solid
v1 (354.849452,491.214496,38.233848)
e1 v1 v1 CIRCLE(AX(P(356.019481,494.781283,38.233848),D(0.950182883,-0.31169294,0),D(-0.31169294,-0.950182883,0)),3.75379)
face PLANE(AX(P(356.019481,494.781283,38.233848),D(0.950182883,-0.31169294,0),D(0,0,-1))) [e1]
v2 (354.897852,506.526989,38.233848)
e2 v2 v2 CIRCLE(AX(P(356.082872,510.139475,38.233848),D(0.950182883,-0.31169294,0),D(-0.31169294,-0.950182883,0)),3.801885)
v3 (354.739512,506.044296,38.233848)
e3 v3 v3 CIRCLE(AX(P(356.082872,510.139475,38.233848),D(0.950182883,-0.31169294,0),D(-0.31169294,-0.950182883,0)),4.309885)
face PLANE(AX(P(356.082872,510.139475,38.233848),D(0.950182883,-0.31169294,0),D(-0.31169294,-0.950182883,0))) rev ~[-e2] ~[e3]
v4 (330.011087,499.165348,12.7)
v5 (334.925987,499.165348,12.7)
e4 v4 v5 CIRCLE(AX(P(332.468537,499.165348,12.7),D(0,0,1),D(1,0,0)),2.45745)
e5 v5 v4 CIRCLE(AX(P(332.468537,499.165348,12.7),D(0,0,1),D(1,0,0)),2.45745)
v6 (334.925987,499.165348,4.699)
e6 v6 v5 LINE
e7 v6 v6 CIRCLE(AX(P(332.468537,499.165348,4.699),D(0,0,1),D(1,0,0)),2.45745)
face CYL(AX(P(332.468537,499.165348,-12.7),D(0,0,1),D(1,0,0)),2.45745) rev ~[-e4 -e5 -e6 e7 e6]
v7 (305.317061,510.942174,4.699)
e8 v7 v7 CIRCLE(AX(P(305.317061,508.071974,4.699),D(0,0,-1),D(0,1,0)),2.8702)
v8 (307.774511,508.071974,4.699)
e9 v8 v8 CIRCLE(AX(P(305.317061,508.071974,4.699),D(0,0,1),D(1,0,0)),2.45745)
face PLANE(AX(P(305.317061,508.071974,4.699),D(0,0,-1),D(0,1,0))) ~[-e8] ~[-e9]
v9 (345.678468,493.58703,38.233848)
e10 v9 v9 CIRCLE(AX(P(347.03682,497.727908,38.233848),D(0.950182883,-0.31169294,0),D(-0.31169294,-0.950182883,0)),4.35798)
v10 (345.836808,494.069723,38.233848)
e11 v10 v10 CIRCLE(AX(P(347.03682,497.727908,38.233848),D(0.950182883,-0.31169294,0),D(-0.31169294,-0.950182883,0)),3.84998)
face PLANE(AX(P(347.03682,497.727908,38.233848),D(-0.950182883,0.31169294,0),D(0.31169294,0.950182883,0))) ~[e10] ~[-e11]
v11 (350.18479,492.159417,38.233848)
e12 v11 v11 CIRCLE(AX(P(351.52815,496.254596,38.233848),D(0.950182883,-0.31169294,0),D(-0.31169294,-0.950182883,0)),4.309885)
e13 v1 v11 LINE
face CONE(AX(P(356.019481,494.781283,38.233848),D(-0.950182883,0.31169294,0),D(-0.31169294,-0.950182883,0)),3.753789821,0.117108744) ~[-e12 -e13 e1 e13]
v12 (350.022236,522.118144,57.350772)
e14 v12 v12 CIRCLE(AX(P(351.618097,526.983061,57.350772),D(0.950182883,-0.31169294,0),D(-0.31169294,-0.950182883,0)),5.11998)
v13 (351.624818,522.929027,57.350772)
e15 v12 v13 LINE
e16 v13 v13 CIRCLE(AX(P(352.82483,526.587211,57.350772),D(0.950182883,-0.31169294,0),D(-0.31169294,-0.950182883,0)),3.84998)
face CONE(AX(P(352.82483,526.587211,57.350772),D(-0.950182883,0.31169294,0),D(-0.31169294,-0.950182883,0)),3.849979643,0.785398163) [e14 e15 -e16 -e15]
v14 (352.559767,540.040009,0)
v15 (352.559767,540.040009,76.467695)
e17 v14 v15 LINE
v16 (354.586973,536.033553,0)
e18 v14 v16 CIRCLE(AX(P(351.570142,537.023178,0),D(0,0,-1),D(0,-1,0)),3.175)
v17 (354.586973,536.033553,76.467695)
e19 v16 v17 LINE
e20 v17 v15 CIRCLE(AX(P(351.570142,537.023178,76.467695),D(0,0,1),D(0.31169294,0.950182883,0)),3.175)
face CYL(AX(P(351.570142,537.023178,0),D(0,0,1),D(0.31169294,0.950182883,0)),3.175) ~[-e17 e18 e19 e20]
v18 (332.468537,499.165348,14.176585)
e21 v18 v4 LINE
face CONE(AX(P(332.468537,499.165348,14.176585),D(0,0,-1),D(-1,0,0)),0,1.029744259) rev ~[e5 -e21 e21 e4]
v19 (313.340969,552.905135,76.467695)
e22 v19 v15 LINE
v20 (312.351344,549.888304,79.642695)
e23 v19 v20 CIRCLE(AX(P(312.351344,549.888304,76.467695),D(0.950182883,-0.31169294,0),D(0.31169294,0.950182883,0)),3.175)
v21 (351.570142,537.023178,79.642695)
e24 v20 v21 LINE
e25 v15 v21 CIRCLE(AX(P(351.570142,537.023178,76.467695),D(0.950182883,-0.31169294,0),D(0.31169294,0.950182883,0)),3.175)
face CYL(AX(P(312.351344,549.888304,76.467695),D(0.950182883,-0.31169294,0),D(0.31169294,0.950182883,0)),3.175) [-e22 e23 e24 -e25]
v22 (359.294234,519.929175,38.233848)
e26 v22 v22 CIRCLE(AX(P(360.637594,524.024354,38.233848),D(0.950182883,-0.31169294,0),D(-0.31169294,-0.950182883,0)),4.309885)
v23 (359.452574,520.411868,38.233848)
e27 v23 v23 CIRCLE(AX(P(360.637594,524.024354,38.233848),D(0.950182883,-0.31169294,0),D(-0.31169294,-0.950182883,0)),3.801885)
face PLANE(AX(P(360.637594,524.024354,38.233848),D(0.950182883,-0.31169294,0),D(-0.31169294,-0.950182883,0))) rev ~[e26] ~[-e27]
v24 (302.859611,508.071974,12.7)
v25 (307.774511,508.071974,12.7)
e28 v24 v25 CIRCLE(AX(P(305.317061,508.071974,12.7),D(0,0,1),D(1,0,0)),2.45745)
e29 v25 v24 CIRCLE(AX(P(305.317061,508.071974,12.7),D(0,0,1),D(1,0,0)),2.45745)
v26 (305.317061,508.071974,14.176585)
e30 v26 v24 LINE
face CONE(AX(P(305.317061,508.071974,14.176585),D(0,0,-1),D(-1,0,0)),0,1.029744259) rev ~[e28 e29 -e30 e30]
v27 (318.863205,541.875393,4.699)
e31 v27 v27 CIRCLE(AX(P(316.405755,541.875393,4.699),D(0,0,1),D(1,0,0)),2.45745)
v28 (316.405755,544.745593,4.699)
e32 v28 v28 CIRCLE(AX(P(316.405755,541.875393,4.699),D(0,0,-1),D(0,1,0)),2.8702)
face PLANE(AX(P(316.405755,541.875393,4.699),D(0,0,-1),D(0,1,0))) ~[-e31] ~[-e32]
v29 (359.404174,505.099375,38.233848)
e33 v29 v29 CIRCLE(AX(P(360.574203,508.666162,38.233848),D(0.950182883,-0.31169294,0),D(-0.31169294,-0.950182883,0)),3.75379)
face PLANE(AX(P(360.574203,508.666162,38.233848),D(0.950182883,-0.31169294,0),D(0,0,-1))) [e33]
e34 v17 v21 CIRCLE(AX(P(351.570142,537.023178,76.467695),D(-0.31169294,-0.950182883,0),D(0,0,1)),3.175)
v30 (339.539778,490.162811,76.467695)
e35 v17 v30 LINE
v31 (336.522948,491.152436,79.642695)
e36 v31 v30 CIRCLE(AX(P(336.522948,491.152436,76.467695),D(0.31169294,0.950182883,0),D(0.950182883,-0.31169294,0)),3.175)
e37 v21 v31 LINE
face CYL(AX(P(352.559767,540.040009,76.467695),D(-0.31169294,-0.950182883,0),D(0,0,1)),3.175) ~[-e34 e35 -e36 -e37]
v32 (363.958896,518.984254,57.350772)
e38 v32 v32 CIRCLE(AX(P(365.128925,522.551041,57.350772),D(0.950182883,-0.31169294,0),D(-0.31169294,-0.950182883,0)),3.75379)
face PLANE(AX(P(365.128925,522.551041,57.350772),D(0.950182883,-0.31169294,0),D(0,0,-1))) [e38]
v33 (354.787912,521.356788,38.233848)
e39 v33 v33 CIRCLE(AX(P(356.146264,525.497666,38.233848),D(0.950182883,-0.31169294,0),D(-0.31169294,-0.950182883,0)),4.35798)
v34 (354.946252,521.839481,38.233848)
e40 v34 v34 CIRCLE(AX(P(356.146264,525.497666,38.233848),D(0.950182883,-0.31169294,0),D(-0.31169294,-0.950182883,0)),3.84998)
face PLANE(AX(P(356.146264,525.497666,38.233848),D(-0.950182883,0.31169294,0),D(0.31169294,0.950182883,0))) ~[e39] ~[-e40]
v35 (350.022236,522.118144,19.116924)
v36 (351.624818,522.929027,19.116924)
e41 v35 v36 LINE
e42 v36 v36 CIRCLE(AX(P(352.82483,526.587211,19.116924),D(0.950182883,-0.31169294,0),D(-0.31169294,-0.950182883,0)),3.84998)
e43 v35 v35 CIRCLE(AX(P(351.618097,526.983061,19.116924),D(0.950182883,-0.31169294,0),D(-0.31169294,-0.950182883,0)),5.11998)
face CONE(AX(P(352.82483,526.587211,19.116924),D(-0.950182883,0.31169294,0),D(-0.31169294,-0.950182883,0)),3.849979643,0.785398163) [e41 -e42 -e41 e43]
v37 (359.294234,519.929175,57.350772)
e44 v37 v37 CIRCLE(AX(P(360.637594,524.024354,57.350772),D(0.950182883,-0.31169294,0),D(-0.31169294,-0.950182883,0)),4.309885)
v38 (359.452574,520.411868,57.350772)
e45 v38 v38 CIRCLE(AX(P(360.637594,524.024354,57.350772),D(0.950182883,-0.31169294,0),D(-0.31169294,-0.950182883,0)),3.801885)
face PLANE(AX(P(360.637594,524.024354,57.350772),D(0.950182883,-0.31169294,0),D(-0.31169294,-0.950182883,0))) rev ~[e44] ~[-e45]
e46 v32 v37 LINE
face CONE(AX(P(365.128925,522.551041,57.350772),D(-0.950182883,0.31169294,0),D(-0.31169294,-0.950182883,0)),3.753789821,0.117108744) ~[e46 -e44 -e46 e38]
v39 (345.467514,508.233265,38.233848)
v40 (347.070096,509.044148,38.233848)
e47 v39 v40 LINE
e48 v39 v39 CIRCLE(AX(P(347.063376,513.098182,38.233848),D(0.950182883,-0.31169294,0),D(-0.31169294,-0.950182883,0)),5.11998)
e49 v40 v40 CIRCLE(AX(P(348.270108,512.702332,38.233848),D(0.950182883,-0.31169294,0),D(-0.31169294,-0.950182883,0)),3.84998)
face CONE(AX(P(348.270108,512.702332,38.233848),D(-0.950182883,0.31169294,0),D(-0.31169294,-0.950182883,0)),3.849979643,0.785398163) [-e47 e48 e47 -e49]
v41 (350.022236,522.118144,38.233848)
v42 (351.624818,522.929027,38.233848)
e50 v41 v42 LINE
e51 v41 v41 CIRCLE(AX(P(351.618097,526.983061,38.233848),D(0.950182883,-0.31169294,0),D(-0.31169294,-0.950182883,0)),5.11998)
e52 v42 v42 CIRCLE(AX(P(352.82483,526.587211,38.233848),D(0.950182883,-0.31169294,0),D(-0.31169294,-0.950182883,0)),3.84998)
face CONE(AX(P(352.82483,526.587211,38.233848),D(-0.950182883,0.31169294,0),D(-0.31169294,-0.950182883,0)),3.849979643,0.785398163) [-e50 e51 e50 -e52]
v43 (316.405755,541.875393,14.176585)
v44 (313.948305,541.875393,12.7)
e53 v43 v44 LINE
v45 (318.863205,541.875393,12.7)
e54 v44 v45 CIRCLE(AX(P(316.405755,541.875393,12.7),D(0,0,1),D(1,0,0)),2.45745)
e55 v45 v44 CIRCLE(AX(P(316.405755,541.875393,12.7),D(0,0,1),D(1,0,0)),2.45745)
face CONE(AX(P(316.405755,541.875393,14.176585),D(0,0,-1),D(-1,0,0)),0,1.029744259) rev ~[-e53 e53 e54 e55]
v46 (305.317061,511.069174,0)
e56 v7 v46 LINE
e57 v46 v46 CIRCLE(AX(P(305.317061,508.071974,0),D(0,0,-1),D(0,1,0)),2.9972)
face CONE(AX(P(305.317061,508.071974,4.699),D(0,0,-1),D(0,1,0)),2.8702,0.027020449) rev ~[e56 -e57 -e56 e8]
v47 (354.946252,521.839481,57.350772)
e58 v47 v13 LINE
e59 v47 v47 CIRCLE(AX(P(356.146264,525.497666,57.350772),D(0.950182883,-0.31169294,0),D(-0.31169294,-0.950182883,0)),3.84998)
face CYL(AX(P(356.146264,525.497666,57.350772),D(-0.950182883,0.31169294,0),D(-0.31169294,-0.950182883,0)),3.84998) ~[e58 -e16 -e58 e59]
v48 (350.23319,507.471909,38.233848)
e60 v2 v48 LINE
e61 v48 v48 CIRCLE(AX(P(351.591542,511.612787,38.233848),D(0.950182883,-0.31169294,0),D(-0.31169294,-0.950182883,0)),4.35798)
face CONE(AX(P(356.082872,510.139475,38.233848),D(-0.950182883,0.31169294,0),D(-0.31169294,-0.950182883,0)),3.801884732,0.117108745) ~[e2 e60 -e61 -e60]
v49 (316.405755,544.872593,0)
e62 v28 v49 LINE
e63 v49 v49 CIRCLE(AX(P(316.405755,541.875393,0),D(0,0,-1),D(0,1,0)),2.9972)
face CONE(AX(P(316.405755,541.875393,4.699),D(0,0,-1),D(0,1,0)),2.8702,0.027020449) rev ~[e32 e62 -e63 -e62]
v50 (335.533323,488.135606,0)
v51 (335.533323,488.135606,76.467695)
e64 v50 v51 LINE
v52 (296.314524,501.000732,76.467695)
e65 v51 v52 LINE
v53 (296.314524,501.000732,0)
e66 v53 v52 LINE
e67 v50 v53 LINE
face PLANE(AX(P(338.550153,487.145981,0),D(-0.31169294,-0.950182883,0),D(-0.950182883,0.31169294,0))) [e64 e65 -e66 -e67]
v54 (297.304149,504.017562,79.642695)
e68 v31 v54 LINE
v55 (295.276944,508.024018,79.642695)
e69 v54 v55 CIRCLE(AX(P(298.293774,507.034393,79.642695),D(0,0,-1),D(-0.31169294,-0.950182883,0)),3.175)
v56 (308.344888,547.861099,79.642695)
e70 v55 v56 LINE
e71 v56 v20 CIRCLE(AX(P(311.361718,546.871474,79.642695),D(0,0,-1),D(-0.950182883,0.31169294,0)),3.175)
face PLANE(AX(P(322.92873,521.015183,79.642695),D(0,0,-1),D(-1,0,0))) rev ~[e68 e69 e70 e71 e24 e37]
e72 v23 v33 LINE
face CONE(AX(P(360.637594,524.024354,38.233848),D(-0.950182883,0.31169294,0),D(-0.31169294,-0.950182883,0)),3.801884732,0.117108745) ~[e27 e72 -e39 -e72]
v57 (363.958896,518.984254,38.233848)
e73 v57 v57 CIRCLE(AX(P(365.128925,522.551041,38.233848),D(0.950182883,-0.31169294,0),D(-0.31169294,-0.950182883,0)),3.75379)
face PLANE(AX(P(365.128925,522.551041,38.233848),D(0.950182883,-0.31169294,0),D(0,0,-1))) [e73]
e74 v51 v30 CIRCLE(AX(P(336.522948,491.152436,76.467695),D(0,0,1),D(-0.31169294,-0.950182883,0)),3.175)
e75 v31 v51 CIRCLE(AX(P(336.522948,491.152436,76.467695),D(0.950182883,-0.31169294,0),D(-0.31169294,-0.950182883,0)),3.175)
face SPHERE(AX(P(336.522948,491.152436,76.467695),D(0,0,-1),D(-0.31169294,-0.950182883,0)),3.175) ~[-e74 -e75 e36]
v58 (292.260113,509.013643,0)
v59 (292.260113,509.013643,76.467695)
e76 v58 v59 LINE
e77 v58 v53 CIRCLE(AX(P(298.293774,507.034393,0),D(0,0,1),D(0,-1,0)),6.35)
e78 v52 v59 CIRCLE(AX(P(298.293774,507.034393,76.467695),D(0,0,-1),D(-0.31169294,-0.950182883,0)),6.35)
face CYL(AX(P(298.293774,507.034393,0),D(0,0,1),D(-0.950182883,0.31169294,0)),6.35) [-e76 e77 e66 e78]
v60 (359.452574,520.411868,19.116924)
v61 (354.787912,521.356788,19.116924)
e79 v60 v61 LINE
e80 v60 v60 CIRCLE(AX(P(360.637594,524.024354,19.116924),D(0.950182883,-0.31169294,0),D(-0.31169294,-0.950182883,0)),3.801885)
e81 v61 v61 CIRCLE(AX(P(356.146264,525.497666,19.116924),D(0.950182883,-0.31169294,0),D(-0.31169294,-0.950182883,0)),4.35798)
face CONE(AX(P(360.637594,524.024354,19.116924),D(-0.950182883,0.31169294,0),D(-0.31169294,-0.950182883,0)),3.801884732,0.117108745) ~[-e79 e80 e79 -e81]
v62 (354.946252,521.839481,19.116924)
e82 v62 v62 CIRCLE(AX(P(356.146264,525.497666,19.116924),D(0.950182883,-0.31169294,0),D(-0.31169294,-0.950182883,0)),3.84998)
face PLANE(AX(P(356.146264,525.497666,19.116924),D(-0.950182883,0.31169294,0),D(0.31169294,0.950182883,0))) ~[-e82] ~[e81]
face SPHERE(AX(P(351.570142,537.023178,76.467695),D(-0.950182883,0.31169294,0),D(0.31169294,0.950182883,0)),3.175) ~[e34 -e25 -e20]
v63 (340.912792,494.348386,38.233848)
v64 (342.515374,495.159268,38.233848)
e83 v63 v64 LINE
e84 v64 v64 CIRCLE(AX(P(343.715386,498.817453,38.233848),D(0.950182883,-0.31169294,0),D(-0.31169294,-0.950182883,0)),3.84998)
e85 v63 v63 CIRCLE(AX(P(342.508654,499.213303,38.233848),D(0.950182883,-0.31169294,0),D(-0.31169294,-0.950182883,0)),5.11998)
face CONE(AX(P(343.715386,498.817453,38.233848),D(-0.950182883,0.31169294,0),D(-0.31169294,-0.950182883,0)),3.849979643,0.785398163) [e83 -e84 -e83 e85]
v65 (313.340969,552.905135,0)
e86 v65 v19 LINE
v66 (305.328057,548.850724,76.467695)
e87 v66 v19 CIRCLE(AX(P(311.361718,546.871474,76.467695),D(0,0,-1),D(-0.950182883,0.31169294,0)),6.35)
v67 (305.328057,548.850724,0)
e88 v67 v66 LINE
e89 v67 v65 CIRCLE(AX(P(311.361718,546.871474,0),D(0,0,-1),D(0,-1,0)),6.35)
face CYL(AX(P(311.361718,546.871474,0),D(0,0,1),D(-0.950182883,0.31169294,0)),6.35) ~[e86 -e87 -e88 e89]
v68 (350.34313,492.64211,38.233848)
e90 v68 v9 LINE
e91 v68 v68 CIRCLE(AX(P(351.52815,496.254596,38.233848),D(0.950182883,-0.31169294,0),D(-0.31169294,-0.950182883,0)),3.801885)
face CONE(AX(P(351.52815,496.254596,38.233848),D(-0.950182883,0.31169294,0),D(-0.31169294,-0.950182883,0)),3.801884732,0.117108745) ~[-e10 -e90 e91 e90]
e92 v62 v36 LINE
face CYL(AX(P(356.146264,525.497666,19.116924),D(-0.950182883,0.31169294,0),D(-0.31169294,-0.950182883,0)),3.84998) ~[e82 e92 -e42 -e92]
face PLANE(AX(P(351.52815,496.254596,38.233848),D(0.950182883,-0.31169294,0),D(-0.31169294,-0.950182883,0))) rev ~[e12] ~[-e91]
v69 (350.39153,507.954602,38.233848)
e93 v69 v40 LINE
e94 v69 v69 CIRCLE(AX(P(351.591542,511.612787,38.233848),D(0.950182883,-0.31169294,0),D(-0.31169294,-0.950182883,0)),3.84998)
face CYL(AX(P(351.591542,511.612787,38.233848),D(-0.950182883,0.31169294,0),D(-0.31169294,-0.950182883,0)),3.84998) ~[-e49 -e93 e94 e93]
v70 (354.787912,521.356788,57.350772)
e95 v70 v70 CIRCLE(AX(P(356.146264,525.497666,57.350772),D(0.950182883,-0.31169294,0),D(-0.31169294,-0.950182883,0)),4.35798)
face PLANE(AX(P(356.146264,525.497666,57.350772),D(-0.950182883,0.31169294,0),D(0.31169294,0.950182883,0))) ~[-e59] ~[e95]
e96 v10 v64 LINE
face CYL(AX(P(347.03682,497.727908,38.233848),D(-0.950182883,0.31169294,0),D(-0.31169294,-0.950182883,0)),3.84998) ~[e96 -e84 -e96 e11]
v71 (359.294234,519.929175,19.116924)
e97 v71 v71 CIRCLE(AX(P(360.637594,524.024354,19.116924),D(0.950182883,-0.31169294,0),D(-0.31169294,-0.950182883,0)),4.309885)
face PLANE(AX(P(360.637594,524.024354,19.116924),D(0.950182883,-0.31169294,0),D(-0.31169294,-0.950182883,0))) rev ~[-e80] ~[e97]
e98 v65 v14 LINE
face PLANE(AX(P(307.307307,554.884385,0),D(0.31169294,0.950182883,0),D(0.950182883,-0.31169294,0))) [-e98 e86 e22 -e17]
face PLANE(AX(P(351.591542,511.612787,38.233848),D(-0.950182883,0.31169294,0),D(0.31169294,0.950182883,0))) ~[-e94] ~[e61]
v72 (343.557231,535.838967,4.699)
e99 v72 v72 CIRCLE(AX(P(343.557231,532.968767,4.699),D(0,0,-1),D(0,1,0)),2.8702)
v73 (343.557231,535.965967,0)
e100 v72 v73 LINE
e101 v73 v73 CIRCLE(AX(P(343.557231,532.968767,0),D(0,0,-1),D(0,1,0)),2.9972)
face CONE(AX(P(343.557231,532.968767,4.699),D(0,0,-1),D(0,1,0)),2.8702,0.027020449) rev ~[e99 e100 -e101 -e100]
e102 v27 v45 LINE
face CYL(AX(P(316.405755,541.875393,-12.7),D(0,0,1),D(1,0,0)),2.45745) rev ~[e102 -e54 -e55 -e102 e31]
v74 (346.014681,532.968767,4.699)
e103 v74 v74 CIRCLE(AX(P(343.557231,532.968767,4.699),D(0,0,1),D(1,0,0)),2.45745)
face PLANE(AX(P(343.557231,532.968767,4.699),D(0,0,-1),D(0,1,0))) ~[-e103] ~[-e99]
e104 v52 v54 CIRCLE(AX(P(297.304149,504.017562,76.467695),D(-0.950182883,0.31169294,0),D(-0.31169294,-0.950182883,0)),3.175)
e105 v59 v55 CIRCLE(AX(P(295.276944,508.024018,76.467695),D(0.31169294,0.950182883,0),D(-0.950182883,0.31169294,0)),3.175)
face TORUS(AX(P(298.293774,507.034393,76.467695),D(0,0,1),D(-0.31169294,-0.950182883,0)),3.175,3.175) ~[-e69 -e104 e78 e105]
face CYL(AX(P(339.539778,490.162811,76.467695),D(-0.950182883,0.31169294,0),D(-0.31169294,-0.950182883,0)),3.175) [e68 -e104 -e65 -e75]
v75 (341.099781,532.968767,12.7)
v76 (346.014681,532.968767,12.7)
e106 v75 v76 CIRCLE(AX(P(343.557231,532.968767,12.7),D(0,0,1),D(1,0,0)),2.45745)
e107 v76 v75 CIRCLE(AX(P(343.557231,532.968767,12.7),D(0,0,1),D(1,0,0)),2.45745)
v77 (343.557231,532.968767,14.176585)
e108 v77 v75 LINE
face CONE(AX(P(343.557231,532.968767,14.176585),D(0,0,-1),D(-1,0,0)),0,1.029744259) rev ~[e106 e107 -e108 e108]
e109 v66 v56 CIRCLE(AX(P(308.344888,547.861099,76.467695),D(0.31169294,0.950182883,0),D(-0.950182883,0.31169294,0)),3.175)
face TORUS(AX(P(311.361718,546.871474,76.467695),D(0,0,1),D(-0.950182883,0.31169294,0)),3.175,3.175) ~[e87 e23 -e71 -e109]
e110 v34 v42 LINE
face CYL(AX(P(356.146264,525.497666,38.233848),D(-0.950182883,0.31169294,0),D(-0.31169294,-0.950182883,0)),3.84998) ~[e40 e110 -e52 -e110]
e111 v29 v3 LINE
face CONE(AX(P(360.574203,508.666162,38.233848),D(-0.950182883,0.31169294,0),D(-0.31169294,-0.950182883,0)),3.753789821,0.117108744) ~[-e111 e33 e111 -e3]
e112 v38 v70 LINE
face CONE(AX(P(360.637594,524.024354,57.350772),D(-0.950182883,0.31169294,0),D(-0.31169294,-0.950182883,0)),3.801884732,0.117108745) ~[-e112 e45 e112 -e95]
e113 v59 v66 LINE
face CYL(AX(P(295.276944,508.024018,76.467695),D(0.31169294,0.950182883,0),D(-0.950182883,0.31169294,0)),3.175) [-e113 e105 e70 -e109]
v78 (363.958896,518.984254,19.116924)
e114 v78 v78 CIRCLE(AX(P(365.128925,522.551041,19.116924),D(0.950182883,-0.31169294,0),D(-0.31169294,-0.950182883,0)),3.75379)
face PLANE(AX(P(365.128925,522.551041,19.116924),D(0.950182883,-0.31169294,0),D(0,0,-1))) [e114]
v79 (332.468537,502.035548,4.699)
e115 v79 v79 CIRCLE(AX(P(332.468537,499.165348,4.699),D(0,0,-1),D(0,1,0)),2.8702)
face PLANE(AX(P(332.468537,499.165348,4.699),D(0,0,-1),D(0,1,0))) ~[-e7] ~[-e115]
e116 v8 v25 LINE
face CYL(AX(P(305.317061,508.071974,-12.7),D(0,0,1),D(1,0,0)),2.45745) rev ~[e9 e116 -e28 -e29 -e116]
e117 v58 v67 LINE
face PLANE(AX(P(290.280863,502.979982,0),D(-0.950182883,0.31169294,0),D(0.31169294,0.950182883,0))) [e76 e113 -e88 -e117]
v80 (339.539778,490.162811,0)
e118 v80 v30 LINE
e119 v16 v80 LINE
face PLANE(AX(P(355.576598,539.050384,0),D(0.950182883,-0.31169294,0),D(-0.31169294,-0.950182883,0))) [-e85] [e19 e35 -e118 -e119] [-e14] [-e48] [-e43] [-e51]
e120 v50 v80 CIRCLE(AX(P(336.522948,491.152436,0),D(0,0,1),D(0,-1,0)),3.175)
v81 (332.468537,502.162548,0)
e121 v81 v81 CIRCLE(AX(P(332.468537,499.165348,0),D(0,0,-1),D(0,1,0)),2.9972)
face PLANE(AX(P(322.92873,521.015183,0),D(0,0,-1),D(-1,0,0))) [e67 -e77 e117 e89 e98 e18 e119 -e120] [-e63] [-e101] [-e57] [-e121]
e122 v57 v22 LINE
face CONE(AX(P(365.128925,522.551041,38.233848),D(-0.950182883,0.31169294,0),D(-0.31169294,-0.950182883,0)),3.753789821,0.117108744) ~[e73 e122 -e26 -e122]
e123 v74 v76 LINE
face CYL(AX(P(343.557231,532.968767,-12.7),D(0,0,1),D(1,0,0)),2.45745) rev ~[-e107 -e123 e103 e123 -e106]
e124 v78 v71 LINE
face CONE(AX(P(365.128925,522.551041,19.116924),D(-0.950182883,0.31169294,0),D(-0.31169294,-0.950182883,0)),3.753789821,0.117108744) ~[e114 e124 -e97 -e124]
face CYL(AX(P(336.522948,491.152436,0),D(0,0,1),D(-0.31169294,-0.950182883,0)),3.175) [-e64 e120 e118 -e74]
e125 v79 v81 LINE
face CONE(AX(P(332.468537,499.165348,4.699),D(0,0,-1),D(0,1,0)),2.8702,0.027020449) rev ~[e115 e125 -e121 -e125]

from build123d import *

# Parameters (mm, degrees)
BOSS_EXTRUDE1_DEPTH              = 79.642695409
FILLET1_R                        = 6.35
FILLET2_R                        = 3.175
SKETCH7_R                        = 4.261789822
CUT_EXTRUDE1_DEPTH               = 9.453613484
CHAMFER1_SIZE                    = 1.27
CHAMFER1_OF_SKETCH_PATTERN2_SIZE = 1.27
HOLE1_AT_2_COUNT                 = 2
HOLE1_AT_2_PITCH                 = 35.575698059
HOLE1_AT_3_COUNT                 = 2
HOLE1_AT_3_PITCH                 = 28.575
HOLE1_AT_4_COUNT                 = 2
HOLE1_AT_4_PITCH                 = 45.630701478
F_8_CLEARANCE_HOLE1_D            = 4.9149
F_8_CLEARANCE_HOLE1_DEPTH        = 12.7
F_8_CLEARANCE_HOLE1_TIP          = 1.476584928


with BuildPart() as part:
    # Sketch1 → Boss-Extrude1 (new body)
    with BuildSketch(Plane.XY):
        Polygon((290.280862854, 502.979981998), (307.307307279, 554.884385267), (355.576597736, 539.050383917), (338.550153311, 487.145980648), align=None)
    extrude(amount=BOSS_EXTRUDE1_DEPTH)

    # Fillet1
    fillet1_edges = [part.edges().sort_by_distance(p)[0] for p in [
        (307.307307279, 554.884385267, 39.821347704),
        (290.280862854, 502.979981998, 39.821347704),
    ]]
    fillet(fillet1_edges, radius=FILLET1_R)

    # Fillet2
    fillet2_edges = [part.edges().sort_by_distance(p)[0] for p in [
        (338.550153311, 487.145980648, 39.821347704),
        (298.794085066, 528.932183632, 79.642695409),
        (355.576597736, 539.050383917, 39.821347704),
        (317.432338736, 494.073356239, 79.642695409),
        (292.627790288, 504.167491527, 79.642695409),
        (308.494816808, 552.537457832, 79.642695409),
        (347.063375524, 513.098182283, 79.642695409),
        (334.458783161, 545.977759508, 79.642695409),
    ]]
    fillet(fillet2_edges, radius=FILLET2_R)

    # Sketch6 → Revolve1 (revolve)
    with BuildSketch(Plane.XY.offset(38.233847704), mode=Mode.PRIVATE) as revolve1_sk:
        Polygon((342.508653649, 499.213303263), (365.002143002, 491.834658634), (366.142191099, 495.310047547), (361.824191099, 497.311751702), (361.665851086, 496.829058798), (357.347851086, 498.830762953), (357.189511072, 498.348070049), (352.871511072, 500.349774204), (352.713171059, 499.8670813), (348.395171059, 501.868785456), (348.236831045, 501.386092551), (343.708665123, 502.87148802), align=None)
    revolve1 = revolve(revolve1_sk.sketch.rotate(Axis((342.508653649, 499.213303263, 38.233847704), (0.950182883020466, -0.31169293995038694, 0)), 180), axis=Axis((342.508653649, 499.213303263, 38.233847704), (0.950182883020466, -0.31169293995038694, 0)))

    # Sketch7 → Cut-Extrude1 (cut)
    with BuildSketch(Plane(origin=(183.876918982, -60.31800666, 0), x_dir=(0, 0, -1), z_dir=(0.9501828830204668, -0.31169293995038483, 0))):
        with Locations((-38.233847704, 581.101464951)):
            Circle(SKETCH7_R)
    cut_extrude1 = extrude(amount=-CUT_EXTRUDE1_DEPTH, mode=Mode.SUBTRACT)

    # Chamfer1
    chamfer1_edges = [part.edges().sort_by_distance(p)[0] for p in [
        (343.708665123, 502.87148802, 38.233847704),
    ]]
    chamfer(chamfer1_edges, length=CHAMFER1_SIZE)

    # Sketch-Pattern2: Revolve1, Cut-Extrude1 at 4 more places
    with Locations((9.109444, 27.769758, 0), (4.554722, 13.884879, 0), (9.109444, 27.769758, 19.116924), (9.109444, 27.769758, -19.116924)):
        add(revolve1)
        add(cut_extrude1, mode=Mode.SUBTRACT)

    # Chamfer1 of Sketch-Pattern2
    chamfer1_of_sketch_pattern2_edges = [part.edges().sort_by_distance(p)[0] for p in [
        (352.818109123, 530.64124602, 38.233847704),
        (348.263387123, 516.75636702, 38.233847704),
        (352.818109123, 530.64124602, 57.350771704),
        (352.818109123, 530.64124602, 19.116923704),
    ]]
    chamfer(chamfer1_of_sketch_pattern2_edges, length=CHAMFER1_OF_SKETCH_PATTERN2_SIZE)

    # Sketch9 → Hole1 (revolve, cut)
    with BuildSketch(Plane(origin=(332.468536604, 499.165347862, 0), x_dir=(0, 1, 0), z_dir=(1, 0, 0))):
        Polygon((0, 0), (0, 4.699), (2.8702, 4.699), (2.9972, 0), align=None)
    hole1 = revolve(axis=Axis((332.468536604, 499.165347862, 110), (0, 0, -1)), mode=Mode.SUBTRACT)

    # Hole1 at 2: Hole1 ×2
    with Locations(*[Vector(0.3116929399504022, 0.950182883020461, 0) * (i * HOLE1_AT_2_PITCH) for i in range(1, HOLE1_AT_2_COUNT)]):
        add(hole1, mode=Mode.SUBTRACT)

    # Hole1 at 3: Hole1 ×2
    with Locations(*[Vector(-0.9501828830204608, 0.3116929399504024, 0) * (i * HOLE1_AT_3_PITCH) for i in range(1, HOLE1_AT_3_COUNT)]):
        add(hole1, mode=Mode.SUBTRACT)

    # Hole1 at 4: Hole1 ×2
    with Locations(*[Vector(-0.3520169851244571, 0.9359936122559213, 0) * (i * HOLE1_AT_4_PITCH) for i in range(1, HOLE1_AT_4_COUNT)]):
        add(hole1, mode=Mode.SUBTRACT)

    # #8 Clearance Hole1
    with Locations(Plane(origin=(0, 0, 0), x_dir=(-1, 0, 0), z_dir=(0, 0, -1))):
        with Locations((-332.468536604, 499.165347862), (-343.557230523, 532.968767209), (-316.40575464, 541.875392969), (-305.317060721, 508.071973621)):
            Hole(F_8_CLEARANCE_HOLE1_D / 2, depth=F_8_CLEARANCE_HOLE1_DEPTH)
            with Locations((0, 0, -(F_8_CLEARANCE_HOLE1_DEPTH + F_8_CLEARANCE_HOLE1_TIP / 2))):  # 118° drill point
                Cone(0, F_8_CLEARANCE_HOLE1_D / 2, F_8_CLEARANCE_HOLE1_TIP, mode=Mode.SUBTRACT)


solid = part.part
